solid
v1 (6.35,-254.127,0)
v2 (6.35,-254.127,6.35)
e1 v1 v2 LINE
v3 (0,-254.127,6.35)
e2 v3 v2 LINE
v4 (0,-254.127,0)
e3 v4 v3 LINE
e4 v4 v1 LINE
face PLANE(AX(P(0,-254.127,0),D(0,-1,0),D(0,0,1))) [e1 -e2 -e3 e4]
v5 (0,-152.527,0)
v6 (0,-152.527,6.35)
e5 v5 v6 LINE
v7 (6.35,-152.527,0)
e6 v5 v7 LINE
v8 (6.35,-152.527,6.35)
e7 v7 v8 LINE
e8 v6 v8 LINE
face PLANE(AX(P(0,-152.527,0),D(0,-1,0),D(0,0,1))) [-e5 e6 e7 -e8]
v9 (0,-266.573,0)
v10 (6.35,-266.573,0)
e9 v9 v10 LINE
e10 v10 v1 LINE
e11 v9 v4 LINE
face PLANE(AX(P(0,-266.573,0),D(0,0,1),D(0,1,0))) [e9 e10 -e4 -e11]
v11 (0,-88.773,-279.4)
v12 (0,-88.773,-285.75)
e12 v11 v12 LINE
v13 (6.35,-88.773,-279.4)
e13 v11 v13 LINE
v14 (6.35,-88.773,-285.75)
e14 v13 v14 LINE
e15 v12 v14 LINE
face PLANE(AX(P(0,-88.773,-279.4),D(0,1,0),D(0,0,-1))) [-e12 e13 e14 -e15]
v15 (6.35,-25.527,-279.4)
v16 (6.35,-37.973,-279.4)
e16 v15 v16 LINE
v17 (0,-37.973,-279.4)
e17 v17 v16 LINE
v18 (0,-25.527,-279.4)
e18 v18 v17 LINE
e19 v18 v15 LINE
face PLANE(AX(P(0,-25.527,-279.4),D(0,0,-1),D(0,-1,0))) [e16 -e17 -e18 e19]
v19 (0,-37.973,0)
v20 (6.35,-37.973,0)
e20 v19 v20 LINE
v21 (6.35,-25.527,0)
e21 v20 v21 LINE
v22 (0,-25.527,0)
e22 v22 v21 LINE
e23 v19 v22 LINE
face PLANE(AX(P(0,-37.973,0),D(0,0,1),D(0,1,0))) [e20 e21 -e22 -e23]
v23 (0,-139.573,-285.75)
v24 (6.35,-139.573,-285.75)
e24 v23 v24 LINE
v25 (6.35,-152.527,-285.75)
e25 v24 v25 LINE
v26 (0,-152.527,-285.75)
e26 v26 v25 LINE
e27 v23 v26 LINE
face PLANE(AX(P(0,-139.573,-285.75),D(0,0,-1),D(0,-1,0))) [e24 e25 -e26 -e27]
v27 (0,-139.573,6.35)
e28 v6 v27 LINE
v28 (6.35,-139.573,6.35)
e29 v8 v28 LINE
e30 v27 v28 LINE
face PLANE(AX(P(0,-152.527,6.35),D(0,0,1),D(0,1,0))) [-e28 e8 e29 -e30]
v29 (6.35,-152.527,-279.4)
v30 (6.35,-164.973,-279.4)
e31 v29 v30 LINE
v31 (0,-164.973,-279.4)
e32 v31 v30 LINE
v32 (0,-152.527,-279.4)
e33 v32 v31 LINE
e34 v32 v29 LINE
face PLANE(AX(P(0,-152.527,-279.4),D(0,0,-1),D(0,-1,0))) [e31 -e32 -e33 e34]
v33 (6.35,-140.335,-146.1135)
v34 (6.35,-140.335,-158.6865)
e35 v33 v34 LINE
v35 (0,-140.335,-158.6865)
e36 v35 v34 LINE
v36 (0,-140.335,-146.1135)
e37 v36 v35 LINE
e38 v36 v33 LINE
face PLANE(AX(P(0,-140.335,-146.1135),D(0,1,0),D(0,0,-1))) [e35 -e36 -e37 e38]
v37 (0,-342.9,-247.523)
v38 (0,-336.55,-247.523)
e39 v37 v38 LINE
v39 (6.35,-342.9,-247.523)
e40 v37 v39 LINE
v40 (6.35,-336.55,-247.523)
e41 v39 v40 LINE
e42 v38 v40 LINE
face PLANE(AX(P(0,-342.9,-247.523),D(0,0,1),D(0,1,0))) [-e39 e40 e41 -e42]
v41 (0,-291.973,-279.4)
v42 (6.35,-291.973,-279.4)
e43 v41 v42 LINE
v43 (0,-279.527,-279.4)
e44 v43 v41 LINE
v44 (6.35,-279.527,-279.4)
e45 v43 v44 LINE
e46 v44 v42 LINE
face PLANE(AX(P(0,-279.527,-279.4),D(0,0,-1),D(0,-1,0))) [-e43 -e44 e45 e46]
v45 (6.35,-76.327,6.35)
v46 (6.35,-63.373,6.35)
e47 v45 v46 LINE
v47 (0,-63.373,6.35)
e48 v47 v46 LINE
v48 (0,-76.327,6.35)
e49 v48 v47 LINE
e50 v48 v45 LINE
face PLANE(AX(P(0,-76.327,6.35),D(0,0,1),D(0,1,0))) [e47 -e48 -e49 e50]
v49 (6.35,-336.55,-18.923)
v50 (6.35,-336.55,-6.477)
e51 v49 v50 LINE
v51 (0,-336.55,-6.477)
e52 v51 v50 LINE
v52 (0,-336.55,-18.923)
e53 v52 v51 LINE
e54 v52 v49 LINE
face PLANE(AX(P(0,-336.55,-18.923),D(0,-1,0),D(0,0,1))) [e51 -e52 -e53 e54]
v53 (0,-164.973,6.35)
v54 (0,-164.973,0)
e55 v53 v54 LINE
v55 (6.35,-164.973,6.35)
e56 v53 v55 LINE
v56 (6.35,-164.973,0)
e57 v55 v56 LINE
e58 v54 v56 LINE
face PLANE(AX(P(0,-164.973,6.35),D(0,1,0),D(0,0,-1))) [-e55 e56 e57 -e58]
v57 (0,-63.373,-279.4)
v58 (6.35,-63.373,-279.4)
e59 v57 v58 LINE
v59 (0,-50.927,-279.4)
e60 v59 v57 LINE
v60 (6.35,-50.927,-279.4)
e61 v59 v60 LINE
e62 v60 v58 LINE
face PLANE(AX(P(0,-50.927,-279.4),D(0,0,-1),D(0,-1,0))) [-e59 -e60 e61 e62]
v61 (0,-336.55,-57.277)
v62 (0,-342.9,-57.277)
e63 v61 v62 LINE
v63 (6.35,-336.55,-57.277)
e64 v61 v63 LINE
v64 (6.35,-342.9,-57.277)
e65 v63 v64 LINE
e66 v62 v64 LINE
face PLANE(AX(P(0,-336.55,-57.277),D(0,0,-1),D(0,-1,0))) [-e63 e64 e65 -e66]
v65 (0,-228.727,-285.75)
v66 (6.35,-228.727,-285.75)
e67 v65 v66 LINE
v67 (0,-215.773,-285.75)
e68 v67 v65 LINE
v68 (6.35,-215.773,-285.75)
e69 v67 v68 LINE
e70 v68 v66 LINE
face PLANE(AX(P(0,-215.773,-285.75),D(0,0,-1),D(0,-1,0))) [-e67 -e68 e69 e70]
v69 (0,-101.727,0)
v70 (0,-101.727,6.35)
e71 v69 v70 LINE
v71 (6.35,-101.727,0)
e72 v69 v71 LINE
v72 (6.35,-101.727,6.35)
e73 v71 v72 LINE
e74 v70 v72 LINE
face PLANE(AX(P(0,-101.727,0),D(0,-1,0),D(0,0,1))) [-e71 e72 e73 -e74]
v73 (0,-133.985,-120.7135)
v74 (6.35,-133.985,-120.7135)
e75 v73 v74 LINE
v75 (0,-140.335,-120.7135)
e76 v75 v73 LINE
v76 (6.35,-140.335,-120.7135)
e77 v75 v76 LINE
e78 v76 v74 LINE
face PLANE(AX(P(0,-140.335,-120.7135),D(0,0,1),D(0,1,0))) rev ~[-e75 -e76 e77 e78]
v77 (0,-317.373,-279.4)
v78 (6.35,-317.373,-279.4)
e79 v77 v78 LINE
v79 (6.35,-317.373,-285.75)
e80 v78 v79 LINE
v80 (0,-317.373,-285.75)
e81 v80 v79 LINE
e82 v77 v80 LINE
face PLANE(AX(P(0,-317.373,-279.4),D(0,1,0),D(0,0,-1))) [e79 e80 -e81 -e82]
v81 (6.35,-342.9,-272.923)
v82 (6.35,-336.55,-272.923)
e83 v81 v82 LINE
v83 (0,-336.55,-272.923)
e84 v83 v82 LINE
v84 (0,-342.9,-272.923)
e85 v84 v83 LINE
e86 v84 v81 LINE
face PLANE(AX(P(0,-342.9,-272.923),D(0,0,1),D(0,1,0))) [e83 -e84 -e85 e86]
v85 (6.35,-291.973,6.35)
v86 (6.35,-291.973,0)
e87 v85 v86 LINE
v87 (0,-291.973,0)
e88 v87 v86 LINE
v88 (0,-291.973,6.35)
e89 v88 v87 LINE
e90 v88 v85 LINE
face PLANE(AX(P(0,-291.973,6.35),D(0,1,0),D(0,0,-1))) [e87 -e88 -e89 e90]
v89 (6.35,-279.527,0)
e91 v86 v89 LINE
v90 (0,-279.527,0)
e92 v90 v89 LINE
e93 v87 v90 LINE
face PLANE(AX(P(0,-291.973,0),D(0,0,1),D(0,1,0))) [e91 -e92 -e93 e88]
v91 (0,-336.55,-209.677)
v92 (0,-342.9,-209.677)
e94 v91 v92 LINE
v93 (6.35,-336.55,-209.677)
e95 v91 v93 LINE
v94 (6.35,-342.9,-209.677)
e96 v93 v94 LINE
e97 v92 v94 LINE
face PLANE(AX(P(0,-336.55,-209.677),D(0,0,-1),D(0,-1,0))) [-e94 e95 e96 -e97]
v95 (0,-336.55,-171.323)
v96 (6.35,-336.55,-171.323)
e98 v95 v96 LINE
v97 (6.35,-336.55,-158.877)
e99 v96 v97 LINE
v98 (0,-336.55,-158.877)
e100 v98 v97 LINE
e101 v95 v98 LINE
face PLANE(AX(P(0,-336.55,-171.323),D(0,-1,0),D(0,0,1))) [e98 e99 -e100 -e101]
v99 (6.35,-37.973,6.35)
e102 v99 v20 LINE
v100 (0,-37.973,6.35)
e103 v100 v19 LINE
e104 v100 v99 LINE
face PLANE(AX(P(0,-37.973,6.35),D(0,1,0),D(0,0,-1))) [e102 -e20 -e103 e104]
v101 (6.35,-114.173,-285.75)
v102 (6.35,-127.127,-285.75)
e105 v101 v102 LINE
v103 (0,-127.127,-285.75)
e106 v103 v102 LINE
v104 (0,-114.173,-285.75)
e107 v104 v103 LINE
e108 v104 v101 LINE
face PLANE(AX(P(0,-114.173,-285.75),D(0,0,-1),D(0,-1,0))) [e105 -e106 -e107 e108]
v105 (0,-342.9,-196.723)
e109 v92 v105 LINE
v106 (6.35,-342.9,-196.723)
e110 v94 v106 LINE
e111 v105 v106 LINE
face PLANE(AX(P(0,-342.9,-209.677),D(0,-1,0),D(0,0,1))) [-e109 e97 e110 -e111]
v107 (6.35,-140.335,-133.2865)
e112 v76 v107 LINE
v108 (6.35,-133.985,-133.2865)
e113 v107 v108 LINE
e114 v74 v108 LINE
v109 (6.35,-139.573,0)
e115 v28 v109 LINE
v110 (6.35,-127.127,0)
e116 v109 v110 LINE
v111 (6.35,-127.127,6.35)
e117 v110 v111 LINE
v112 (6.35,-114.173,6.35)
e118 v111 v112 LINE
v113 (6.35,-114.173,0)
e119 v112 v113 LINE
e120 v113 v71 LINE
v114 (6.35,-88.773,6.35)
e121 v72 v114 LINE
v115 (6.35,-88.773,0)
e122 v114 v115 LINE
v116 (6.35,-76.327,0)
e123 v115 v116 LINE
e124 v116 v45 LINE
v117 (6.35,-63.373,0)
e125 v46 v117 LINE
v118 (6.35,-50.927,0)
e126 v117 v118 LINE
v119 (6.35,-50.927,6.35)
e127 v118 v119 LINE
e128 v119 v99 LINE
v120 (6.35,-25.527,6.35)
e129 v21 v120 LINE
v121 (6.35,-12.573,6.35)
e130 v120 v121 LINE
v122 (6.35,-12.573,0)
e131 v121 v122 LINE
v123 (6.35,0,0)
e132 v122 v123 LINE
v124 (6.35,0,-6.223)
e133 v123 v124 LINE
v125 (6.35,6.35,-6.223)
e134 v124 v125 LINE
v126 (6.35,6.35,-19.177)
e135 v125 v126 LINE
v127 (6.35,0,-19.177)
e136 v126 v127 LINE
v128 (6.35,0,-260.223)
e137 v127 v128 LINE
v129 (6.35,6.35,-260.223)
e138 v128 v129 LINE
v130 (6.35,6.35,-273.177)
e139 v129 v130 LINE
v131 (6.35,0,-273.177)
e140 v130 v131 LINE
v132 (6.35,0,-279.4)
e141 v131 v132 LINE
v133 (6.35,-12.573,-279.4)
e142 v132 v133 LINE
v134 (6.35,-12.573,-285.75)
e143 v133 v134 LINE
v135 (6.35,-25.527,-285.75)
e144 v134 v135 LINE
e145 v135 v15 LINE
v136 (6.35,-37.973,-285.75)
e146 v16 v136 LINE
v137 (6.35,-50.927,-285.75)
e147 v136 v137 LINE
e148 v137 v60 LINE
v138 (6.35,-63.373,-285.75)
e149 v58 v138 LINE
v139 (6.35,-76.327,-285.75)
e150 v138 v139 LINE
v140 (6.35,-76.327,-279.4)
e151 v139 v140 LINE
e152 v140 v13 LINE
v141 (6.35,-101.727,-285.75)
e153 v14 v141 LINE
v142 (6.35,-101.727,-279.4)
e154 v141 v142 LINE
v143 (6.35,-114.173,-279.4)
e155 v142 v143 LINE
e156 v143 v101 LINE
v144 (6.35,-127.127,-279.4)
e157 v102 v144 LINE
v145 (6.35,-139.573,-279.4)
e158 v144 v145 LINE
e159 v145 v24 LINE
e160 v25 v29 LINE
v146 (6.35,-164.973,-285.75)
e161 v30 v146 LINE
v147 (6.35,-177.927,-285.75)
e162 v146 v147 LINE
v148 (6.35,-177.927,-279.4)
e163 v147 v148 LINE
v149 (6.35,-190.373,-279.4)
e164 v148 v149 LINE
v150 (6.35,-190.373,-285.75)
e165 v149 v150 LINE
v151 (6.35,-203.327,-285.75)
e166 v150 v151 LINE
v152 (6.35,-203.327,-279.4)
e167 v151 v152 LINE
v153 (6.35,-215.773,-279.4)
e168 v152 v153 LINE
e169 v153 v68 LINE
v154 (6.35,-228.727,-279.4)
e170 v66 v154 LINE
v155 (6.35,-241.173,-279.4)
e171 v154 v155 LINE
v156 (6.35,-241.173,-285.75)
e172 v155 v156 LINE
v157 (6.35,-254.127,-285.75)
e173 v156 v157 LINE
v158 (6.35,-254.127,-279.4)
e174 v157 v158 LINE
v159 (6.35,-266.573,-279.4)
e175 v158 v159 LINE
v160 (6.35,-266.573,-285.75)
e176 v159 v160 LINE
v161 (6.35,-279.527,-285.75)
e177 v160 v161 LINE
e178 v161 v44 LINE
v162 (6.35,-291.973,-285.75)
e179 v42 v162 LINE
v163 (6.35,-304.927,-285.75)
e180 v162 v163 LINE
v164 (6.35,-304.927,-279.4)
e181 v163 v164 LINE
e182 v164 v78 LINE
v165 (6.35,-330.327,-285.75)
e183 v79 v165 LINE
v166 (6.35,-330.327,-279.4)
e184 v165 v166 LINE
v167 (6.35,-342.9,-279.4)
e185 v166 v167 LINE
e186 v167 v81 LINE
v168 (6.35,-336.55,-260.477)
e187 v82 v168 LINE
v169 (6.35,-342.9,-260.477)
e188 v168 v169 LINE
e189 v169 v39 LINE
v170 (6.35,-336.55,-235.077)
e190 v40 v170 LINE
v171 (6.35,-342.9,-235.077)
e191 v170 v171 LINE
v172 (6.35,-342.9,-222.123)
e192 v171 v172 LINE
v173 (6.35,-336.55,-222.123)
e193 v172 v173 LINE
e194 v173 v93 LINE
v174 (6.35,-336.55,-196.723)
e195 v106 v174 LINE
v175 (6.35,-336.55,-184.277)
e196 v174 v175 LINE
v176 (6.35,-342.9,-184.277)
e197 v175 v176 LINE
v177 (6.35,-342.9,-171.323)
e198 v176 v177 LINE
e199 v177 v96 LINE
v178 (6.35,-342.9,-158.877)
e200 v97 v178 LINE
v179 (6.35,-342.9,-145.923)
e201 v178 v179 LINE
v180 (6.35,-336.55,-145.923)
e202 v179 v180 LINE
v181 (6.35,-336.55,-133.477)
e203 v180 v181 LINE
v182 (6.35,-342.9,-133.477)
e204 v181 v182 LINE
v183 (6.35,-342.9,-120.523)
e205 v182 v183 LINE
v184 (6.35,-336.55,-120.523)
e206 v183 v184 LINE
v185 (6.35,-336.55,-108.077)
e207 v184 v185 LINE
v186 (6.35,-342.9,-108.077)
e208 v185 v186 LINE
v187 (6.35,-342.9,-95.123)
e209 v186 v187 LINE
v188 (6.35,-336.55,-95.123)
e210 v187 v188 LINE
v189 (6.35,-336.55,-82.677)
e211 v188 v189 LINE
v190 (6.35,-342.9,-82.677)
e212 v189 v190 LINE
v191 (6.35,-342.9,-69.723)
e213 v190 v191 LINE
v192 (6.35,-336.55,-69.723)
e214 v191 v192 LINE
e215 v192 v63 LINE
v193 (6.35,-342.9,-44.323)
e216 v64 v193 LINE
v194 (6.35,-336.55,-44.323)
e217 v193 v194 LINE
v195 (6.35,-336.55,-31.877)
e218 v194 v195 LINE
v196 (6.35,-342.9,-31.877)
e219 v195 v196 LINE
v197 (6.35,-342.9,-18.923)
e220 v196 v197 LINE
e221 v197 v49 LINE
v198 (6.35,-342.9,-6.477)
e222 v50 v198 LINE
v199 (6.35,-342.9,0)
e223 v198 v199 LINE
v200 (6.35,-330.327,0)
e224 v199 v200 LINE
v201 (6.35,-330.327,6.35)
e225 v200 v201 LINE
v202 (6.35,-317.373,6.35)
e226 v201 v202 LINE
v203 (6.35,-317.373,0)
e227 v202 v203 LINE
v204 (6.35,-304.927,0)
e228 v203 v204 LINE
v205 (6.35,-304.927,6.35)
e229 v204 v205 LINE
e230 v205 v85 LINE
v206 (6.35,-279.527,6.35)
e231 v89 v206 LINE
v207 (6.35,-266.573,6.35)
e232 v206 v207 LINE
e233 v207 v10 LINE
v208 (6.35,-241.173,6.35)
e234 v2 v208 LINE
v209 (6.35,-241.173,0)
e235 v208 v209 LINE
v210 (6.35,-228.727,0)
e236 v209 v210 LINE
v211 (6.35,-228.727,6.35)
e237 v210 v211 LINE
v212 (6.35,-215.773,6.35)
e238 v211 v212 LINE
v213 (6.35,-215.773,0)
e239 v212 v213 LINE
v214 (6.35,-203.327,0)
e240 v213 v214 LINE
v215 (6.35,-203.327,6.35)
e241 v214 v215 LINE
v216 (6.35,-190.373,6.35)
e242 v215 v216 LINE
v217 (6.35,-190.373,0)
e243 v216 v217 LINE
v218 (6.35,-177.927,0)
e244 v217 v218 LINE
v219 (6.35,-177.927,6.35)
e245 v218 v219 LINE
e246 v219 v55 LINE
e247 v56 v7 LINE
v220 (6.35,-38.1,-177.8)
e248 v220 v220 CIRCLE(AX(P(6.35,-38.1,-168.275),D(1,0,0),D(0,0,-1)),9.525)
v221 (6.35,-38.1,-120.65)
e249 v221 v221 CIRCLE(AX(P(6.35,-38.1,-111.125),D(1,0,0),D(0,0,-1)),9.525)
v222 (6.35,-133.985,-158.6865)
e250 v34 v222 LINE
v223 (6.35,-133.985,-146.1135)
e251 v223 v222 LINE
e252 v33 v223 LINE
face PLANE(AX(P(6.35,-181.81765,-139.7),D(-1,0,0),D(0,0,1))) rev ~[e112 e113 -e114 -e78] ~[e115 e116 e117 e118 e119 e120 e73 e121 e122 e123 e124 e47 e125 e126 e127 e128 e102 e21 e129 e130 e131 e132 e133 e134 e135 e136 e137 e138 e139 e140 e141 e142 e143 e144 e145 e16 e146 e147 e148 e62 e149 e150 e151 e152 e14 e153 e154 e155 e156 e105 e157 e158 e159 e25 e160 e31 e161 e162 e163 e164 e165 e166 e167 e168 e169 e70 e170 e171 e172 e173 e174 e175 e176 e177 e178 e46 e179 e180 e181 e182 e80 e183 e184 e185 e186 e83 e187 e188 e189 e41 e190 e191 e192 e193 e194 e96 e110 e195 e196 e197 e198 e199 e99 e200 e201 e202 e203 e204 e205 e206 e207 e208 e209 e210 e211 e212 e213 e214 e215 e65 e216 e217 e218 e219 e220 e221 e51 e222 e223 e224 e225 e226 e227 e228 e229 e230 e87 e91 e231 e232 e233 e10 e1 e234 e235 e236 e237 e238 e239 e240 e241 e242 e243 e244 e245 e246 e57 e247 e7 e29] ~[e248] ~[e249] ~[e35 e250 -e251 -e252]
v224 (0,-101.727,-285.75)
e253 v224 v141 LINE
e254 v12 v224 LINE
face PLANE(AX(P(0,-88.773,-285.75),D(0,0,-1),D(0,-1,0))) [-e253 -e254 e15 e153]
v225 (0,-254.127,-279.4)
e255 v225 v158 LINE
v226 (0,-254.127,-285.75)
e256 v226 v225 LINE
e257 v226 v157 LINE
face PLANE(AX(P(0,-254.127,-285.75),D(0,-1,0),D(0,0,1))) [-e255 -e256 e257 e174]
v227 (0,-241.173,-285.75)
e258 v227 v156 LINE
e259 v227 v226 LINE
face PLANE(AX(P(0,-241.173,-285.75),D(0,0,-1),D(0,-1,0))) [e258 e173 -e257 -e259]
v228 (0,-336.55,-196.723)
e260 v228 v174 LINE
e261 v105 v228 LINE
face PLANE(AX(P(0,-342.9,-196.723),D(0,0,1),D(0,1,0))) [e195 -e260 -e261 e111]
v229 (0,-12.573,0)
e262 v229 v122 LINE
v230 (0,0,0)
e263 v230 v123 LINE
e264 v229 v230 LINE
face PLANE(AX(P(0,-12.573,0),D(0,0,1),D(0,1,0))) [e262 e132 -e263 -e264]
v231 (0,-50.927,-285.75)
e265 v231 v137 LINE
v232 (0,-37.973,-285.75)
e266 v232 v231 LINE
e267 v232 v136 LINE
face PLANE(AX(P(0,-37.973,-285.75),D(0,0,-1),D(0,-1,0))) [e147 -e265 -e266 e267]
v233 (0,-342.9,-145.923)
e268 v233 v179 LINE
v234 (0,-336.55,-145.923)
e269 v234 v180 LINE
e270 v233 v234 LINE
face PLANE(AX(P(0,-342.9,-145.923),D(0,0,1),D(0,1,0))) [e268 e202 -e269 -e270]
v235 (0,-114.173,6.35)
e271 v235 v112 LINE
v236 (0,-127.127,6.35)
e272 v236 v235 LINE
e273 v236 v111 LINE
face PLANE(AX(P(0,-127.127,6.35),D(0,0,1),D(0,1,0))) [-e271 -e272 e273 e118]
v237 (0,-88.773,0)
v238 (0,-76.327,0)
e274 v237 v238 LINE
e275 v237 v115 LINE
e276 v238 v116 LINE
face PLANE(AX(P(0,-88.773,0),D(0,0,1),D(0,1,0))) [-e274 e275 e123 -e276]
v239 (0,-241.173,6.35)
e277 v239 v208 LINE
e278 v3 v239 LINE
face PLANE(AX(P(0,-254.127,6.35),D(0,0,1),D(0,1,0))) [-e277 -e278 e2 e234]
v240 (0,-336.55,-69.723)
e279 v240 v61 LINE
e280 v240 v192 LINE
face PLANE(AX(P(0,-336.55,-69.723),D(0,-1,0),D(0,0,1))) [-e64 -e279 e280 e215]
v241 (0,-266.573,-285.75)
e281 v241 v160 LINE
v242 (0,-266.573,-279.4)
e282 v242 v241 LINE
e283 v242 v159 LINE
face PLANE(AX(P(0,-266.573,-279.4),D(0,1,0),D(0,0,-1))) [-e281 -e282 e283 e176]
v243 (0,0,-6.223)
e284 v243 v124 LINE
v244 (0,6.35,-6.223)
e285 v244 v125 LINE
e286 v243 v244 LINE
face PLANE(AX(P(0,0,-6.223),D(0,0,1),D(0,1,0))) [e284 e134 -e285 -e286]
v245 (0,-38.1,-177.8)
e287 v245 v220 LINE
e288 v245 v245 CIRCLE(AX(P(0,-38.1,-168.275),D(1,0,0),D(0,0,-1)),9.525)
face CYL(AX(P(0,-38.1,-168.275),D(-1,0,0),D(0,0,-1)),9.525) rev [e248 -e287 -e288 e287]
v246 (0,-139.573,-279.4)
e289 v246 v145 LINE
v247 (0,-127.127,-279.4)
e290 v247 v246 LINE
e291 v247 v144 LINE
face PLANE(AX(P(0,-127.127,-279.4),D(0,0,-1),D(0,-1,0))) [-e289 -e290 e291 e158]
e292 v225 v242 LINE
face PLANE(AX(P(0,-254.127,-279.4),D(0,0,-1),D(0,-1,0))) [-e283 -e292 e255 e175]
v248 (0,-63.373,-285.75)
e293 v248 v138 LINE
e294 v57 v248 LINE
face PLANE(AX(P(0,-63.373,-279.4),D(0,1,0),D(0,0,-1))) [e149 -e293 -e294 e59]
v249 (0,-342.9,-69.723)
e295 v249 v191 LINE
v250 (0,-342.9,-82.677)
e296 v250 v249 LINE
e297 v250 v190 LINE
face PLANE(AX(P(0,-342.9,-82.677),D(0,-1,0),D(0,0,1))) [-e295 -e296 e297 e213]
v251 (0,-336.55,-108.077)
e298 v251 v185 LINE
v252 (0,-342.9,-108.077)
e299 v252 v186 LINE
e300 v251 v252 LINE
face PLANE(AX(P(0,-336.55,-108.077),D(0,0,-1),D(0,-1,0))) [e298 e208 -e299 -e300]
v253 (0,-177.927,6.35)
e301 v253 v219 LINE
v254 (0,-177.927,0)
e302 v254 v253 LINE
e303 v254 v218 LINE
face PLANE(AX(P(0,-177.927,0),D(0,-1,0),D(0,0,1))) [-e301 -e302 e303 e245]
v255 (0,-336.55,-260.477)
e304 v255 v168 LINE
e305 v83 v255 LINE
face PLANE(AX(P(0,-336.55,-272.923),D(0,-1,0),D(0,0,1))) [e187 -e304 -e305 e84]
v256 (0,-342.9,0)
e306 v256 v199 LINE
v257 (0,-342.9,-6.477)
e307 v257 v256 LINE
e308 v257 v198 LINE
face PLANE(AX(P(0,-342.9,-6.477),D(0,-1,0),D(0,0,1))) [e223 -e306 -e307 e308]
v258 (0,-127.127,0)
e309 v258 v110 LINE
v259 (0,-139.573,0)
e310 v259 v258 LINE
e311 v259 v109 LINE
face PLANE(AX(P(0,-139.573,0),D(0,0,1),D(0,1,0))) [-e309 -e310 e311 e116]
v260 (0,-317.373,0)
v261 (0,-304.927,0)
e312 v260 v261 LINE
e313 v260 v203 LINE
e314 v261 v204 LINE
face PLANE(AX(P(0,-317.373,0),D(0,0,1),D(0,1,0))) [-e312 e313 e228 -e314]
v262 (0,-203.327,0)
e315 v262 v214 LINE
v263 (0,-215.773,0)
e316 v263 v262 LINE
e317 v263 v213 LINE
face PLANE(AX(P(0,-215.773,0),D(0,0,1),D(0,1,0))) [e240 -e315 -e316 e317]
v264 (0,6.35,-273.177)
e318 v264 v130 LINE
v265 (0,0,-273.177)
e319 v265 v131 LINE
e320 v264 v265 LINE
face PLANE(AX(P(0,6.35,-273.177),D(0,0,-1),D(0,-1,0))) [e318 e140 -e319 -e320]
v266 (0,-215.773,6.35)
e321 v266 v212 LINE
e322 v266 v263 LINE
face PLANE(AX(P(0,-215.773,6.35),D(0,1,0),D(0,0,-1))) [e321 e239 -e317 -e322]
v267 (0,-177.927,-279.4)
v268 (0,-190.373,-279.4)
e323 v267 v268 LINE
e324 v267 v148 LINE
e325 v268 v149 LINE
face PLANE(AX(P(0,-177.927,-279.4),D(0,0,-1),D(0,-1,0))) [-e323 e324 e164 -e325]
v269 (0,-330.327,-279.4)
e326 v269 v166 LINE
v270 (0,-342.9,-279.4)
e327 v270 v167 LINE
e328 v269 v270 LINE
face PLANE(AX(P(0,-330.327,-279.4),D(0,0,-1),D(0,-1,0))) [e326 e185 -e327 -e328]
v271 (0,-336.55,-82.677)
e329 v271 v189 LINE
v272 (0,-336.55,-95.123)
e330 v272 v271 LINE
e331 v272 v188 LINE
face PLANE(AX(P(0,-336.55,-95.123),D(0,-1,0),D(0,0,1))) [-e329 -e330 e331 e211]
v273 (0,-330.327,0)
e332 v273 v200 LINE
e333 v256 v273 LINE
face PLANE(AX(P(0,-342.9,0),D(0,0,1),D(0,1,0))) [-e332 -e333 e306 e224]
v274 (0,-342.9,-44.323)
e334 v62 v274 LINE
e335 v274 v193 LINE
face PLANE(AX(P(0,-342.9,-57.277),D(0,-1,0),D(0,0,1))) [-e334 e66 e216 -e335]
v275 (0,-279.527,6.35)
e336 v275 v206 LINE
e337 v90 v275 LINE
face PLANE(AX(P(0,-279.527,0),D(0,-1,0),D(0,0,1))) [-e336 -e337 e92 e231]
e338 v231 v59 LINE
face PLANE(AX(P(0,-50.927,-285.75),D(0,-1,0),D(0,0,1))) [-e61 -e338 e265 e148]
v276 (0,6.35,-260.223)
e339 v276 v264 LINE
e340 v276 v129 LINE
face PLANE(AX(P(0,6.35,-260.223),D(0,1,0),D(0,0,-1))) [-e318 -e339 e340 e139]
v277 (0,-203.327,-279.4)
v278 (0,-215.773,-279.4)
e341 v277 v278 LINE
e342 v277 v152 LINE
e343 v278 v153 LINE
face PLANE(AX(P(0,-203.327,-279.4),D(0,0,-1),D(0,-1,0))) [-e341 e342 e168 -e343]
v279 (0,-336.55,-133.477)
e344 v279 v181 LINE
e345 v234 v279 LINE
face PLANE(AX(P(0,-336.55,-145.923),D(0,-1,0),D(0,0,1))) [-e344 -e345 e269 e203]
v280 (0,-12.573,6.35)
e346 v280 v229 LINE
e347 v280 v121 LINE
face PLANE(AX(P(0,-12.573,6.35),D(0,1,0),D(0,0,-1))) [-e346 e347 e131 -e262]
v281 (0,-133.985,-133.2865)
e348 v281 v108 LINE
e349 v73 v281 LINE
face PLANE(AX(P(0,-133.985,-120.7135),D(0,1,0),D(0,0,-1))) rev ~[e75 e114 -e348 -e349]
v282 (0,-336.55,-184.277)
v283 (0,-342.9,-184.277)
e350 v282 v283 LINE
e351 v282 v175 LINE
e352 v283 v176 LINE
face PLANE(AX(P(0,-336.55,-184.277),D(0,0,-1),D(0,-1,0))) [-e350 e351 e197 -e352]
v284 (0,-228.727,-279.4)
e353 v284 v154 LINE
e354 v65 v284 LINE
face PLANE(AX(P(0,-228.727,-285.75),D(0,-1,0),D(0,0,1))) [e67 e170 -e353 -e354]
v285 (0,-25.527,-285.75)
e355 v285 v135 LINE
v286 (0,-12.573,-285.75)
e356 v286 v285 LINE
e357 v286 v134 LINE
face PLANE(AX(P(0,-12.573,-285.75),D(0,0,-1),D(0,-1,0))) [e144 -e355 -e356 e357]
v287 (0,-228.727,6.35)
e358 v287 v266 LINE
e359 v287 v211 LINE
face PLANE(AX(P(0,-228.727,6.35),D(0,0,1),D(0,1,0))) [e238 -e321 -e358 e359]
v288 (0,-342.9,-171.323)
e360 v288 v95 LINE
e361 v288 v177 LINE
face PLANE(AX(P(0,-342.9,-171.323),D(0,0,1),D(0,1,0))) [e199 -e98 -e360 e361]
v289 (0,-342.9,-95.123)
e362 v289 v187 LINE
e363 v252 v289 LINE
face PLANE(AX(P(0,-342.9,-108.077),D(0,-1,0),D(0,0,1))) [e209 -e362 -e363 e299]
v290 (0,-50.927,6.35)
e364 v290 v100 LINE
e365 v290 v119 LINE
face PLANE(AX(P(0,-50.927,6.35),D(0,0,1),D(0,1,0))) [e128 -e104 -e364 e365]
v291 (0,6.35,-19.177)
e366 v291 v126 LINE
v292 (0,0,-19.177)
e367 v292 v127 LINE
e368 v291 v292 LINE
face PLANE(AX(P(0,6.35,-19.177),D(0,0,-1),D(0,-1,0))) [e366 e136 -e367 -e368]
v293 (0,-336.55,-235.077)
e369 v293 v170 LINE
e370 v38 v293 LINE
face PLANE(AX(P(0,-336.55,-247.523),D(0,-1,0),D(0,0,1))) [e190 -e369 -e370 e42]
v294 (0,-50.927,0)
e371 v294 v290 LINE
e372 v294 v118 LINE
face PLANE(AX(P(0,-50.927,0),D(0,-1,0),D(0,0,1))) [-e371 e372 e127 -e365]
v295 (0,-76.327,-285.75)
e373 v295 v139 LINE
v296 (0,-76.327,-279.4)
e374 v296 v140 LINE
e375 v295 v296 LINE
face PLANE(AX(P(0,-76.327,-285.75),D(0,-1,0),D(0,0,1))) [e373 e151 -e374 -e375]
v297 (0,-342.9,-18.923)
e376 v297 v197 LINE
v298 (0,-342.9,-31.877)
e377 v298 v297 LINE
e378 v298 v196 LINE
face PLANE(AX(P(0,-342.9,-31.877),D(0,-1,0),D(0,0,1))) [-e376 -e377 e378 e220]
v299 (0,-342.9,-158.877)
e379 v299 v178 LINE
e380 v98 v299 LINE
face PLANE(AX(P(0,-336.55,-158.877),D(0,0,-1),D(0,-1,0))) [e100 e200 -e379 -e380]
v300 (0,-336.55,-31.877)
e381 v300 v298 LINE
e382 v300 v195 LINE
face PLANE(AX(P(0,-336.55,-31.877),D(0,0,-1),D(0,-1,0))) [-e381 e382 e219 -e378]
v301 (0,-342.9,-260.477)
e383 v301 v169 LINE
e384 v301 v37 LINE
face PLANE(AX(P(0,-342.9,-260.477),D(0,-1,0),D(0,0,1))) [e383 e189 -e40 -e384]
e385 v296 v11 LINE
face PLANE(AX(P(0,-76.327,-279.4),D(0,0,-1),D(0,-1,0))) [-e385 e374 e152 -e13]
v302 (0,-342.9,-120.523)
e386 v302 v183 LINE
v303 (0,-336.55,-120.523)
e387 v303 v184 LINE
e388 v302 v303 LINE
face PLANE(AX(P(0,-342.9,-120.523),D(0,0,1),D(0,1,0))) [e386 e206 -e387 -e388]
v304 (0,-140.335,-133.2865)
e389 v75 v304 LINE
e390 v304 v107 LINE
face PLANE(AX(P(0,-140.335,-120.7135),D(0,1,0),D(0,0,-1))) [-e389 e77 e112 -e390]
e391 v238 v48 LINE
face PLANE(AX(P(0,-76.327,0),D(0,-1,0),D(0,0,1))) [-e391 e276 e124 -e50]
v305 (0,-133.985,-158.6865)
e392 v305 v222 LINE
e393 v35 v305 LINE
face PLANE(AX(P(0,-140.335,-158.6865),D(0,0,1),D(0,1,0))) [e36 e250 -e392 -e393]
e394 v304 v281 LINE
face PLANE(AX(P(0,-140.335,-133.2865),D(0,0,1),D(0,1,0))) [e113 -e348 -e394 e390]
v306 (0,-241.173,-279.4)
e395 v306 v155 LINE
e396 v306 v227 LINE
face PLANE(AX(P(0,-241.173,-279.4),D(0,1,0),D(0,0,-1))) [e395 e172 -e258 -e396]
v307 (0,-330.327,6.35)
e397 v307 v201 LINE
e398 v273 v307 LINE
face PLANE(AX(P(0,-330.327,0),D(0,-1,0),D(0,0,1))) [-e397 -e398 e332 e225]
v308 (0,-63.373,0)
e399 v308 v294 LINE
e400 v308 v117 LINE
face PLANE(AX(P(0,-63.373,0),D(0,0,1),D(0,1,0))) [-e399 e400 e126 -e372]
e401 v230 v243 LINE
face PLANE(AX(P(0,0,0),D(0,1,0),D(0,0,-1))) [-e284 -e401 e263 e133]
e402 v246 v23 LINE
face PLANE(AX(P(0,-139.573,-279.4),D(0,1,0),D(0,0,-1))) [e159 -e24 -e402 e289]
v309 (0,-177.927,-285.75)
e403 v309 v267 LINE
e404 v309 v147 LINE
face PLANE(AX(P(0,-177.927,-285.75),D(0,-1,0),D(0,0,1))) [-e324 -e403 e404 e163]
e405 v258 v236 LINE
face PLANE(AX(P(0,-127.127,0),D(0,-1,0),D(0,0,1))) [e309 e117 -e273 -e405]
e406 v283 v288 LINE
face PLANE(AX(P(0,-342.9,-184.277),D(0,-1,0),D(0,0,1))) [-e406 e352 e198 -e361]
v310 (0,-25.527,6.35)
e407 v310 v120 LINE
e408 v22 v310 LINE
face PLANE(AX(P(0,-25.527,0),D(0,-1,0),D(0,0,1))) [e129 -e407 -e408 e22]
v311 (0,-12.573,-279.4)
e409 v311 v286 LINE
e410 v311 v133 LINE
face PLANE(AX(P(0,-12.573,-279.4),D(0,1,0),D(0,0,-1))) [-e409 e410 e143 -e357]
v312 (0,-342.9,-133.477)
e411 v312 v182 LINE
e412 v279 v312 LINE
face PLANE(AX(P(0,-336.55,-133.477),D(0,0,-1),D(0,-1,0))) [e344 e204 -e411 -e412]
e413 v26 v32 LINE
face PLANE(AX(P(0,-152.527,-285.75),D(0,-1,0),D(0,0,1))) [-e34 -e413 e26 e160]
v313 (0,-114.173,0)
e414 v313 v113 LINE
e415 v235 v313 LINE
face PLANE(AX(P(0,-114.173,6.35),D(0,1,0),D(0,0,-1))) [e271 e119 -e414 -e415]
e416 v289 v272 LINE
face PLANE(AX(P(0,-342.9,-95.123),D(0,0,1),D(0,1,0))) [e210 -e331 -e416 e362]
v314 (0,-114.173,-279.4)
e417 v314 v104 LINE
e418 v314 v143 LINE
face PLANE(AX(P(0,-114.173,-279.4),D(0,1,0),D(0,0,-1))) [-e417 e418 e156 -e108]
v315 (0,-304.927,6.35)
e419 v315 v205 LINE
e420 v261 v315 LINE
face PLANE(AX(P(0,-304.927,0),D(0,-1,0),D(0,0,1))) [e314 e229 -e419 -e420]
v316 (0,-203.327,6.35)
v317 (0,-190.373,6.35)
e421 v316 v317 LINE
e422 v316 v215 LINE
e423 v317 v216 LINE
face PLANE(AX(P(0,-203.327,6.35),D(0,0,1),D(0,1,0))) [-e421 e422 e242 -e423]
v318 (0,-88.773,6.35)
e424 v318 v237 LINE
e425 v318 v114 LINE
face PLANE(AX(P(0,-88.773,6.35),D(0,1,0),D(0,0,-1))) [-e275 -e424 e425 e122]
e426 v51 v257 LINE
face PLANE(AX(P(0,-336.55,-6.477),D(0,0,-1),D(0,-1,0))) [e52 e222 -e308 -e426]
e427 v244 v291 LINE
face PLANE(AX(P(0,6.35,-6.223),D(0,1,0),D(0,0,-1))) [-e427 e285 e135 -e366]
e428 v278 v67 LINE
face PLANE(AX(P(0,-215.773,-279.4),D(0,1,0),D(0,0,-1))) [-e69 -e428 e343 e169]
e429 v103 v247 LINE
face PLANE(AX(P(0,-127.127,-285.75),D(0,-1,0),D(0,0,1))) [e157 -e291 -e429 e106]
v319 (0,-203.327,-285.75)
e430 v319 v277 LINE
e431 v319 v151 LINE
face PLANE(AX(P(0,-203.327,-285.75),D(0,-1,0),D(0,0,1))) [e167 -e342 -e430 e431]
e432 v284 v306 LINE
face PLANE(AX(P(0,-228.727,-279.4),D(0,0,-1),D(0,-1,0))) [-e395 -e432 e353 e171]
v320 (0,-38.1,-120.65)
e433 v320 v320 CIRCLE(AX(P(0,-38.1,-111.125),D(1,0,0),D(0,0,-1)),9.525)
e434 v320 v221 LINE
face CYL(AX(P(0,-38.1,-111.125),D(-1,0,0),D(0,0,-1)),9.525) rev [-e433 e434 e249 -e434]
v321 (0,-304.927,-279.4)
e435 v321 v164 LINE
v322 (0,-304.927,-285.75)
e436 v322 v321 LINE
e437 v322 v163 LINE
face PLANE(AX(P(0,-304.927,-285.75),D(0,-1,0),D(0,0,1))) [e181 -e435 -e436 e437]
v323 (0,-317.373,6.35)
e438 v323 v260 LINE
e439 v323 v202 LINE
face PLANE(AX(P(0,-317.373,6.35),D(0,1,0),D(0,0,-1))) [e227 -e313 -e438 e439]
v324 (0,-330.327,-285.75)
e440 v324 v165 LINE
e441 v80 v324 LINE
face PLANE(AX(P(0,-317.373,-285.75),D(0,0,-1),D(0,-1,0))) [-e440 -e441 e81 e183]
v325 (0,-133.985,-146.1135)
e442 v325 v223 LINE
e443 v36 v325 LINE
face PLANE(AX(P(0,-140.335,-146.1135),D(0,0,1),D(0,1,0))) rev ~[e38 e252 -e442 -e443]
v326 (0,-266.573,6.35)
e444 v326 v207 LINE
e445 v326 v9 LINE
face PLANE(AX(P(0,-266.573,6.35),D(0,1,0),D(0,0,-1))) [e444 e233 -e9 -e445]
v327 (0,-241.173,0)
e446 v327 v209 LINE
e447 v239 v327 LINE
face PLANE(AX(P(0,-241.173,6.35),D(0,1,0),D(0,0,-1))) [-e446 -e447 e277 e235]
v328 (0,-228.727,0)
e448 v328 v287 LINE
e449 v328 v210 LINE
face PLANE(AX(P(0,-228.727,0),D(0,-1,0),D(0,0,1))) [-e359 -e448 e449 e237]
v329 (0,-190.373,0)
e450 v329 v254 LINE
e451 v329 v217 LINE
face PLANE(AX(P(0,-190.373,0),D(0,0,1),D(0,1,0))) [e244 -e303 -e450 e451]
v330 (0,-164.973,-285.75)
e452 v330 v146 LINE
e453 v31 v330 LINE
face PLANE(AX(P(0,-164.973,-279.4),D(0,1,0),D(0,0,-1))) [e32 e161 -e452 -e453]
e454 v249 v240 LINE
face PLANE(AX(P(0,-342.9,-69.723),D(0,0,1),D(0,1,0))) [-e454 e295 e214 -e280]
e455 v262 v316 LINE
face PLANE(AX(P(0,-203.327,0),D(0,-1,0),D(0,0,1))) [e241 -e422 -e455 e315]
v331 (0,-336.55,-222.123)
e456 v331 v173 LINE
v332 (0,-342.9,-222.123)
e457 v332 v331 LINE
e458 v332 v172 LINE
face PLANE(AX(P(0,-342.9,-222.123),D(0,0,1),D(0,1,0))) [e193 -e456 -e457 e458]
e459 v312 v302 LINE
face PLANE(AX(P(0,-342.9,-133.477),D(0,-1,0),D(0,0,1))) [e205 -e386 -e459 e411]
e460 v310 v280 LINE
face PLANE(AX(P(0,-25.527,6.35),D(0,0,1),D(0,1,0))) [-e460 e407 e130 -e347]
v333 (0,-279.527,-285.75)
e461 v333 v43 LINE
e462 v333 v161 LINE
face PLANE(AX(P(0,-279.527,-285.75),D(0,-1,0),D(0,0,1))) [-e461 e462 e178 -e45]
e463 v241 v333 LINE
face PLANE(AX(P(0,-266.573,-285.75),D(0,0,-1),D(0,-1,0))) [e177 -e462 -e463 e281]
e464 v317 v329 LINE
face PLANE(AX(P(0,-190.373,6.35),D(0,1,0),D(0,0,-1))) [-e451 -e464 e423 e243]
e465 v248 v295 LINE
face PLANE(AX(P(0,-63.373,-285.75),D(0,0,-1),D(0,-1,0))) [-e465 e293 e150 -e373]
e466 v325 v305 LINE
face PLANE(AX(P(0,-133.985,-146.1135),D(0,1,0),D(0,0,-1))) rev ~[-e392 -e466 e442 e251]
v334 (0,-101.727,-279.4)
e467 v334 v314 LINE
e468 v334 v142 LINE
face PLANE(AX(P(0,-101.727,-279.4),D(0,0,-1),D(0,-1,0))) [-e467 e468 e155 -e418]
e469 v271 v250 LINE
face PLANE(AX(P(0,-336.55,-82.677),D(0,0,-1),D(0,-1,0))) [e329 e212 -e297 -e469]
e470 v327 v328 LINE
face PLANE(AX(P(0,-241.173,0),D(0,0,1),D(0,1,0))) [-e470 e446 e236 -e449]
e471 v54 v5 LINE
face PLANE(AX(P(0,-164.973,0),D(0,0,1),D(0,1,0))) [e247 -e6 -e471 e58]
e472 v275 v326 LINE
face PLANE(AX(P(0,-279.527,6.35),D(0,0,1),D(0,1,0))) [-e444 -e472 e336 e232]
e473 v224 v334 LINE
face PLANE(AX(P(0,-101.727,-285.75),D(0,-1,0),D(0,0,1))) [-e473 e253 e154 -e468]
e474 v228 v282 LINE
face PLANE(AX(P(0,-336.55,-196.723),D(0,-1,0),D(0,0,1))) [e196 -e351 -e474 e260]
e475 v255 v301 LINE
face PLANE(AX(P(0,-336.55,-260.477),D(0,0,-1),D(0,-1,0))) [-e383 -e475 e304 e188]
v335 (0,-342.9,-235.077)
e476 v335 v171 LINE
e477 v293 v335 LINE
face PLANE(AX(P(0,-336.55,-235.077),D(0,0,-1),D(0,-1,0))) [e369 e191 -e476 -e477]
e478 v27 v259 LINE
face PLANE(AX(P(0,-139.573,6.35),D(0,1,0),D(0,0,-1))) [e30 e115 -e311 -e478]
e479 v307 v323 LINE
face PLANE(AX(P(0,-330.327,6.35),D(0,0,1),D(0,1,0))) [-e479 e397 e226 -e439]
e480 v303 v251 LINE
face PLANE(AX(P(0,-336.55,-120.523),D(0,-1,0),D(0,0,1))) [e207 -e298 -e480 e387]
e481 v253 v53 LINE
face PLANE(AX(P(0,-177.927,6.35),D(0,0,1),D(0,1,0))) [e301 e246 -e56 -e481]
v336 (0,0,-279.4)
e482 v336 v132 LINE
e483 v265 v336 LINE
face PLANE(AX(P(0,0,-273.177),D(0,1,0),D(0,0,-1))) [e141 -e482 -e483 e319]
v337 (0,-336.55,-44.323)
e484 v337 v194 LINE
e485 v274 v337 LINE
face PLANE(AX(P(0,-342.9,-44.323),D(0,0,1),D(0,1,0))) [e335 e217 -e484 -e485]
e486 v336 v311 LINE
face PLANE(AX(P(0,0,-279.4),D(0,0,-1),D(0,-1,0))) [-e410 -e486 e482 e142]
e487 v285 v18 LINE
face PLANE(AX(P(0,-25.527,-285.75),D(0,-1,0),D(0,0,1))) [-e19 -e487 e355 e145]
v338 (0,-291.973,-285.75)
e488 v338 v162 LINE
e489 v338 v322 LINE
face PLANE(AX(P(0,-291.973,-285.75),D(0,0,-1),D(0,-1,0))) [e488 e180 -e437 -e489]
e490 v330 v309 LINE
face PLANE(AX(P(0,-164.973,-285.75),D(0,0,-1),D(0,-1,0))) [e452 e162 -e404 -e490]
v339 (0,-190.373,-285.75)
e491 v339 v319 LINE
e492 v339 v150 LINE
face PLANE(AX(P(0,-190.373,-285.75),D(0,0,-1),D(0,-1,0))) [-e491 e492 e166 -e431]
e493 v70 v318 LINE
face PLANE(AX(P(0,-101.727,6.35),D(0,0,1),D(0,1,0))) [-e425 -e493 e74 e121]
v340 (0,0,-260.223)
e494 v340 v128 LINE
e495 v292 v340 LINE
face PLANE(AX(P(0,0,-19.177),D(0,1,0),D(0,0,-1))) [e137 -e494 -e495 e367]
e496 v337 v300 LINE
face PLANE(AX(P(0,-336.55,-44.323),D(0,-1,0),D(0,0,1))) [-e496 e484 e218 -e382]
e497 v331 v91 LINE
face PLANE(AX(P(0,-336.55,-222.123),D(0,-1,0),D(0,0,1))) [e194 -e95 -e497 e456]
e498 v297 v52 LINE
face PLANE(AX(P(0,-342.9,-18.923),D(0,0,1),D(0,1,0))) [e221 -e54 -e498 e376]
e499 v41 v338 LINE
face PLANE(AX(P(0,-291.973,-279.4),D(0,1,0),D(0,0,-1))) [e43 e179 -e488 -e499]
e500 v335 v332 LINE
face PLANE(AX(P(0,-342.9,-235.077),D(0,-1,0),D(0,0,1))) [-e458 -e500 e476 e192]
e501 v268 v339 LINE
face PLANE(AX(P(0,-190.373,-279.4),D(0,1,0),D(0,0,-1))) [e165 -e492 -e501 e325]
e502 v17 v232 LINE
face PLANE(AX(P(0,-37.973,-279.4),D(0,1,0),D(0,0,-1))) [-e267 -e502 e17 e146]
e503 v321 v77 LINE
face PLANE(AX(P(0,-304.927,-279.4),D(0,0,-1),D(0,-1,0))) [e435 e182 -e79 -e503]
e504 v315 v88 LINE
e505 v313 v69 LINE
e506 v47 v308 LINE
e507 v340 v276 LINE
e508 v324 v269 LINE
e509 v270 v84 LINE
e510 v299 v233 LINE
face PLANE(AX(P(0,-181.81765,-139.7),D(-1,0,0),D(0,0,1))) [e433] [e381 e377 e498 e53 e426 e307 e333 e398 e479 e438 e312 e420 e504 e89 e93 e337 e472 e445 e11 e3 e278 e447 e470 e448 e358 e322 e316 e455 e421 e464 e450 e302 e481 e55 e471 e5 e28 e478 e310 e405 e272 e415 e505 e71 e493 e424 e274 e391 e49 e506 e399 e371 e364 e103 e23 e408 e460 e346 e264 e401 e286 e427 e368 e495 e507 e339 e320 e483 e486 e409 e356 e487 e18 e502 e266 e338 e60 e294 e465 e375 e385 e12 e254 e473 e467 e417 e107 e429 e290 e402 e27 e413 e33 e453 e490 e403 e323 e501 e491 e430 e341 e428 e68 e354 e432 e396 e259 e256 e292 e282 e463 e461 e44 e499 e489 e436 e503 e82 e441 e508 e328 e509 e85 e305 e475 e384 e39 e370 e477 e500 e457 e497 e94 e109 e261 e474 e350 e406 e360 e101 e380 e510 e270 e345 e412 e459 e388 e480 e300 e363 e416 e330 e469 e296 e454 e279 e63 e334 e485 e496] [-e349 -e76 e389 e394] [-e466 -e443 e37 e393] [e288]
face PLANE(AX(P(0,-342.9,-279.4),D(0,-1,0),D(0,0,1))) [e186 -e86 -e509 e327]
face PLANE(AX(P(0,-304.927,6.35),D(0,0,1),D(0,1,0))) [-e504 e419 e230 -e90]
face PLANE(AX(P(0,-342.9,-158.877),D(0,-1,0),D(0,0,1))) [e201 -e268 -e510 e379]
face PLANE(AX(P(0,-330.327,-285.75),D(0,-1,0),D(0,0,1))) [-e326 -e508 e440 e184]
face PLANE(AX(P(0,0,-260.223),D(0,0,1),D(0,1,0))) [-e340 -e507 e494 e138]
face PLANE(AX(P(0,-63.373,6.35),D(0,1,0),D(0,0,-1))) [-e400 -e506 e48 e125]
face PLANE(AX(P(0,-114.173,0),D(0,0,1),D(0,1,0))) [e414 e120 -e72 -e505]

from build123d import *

# Parameters (mm, degrees)
SKETCH1_R           = 9.525
SKETCH1_W           = 12.573
SKETCH1_H           = 6.35
BOSS_EXTRUDE1_DEPTH = 6.35


with BuildPart() as part:
    # Sketch1 → Boss-Extrude1 (new body)
    with BuildSketch(Plane(origin=(0, 0, 0), x_dir=(0, 0, -1), z_dir=(1, 0, 0))):
        Polygon((0, 0), (6.223, 0), (6.223, 6.35), (19.177, 6.35), (19.177, 0), (260.223, 0), (260.223, 6.35), (273.177, 6.35), (273.177, 0), (279.4, 0), (279.4, -12.573), (285.75, -12.573), (285.75, -25.527), (279.4, -25.527), (279.4, -37.973), (285.75, -37.973), (285.75, -50.927), (279.4, -50.927), (279.4, -63.373), (285.75, -63.373), (285.75, -76.327), (279.4, -76.327), (279.4, -88.773), (285.75, -88.773), (285.75, -101.727), (279.4, -101.727), (279.4, -114.173), (285.75, -114.173), (285.75, -127.127), (279.4, -127.127), (279.4, -139.573), (285.75, -139.573), (285.75, -152.527), (279.4, -152.527), (279.4, -164.973), (285.75, -164.973), (285.75, -177.927), (279.4, -177.927), (279.4, -190.373), (285.75, -190.373), (285.75, -203.327), (279.4, -203.327), (279.4, -215.773), (285.75, -215.773), (285.75, -228.727), (279.4, -228.727), (279.4, -241.173), (285.75, -241.173), (285.75, -254.127), (279.4, -254.127), (279.4, -266.573), (285.75, -266.573), (285.75, -279.527), (279.4, -279.527), (279.4, -291.973), (285.75, -291.973), (285.75, -304.927), (279.4, -304.927), (279.4, -317.373), (285.75, -317.373), (285.75, -330.327), (279.4, -330.327), (279.4, -342.9), (272.923, -342.9), (272.923, -336.55), (260.477, -336.55), (260.477, -342.9), (247.523, -342.9), (247.523, -336.55), (235.077, -336.55), (235.077, -342.9), (222.123, -342.9), (222.123, -336.55), (209.677, -336.55), (209.677, -342.9), (196.723, -342.9), (196.723, -336.55), (184.277, -336.55), (184.277, -342.9), (171.323, -342.9), (171.323, -336.55), (158.877, -336.55), (158.877, -342.9), (145.923, -342.9), (145.923, -336.55), (133.477, -336.55), (133.477, -342.9), (120.523, -342.9), (120.523, -336.55), (108.077, -336.55), (108.077, -342.9), (95.123, -342.9), (95.123, -336.55), (82.677, -336.55), (82.677, -342.9), (69.723, -342.9), (69.723, -336.55), (57.277, -336.55), (57.277, -342.9), (44.323, -342.9), (44.323, -336.55), (31.877, -336.55), (31.877, -342.9), (18.923, -342.9), (18.923, -336.55), (6.477, -336.55), (6.477, -342.9), (0, -342.9), (0, -330.327), (-6.35, -330.327), (-6.35, -317.373), (0, -317.373), (0, -304.927), (-6.35, -304.927), (-6.35, -291.973), (0, -291.973), (0, -279.527), (-6.35, -279.527), (-6.35, -266.573), (0, -266.573), (0, -254.127), (-6.35, -254.127), (-6.35, -241.173), (0, -241.173), (0, -228.727), (-6.35, -228.727), (-6.35, -215.773), (0, -215.773), (0, -203.327), (-6.35, -203.327), (-6.35, -190.373), (0, -190.373), (0, -177.927), (-6.35, -177.927), (-6.35, -164.973), (0, -164.973), (0, -152.527), (-6.35, -152.527), (-6.35, -139.573), (0, -139.573), (0, -127.127), (-6.35, -127.127), (-6.35, -114.173), (0, -114.173), (0, -101.727), (-6.35, -101.727), (-6.35, -88.773), (0, -88.773), (0, -76.327), (-6.35, -76.327), (-6.35, -63.373), (0, -63.373), (0, -50.927), (-6.35, -50.927), (-6.35, -37.973), (0, -37.973), (0, -25.527), (-6.35, -25.527), (-6.35, -12.573), (0, -12.573), align=None)
        with Locations((111.125, -38.1)):
            Circle(SKETCH1_R, mode=Mode.SUBTRACT)
        with Locations((168.275, -38.1)):
            Circle(SKETCH1_R, mode=Mode.SUBTRACT)
        with Locations((127, -137.16)):
            Rectangle(SKETCH1_W, SKETCH1_H, mode=Mode.SUBTRACT)
        with Locations((152.4, -137.16)):
            Rectangle(SKETCH1_W, SKETCH1_H, mode=Mode.SUBTRACT)
    extrude(amount=BOSS_EXTRUDE1_DEPTH)


solid = part.part
